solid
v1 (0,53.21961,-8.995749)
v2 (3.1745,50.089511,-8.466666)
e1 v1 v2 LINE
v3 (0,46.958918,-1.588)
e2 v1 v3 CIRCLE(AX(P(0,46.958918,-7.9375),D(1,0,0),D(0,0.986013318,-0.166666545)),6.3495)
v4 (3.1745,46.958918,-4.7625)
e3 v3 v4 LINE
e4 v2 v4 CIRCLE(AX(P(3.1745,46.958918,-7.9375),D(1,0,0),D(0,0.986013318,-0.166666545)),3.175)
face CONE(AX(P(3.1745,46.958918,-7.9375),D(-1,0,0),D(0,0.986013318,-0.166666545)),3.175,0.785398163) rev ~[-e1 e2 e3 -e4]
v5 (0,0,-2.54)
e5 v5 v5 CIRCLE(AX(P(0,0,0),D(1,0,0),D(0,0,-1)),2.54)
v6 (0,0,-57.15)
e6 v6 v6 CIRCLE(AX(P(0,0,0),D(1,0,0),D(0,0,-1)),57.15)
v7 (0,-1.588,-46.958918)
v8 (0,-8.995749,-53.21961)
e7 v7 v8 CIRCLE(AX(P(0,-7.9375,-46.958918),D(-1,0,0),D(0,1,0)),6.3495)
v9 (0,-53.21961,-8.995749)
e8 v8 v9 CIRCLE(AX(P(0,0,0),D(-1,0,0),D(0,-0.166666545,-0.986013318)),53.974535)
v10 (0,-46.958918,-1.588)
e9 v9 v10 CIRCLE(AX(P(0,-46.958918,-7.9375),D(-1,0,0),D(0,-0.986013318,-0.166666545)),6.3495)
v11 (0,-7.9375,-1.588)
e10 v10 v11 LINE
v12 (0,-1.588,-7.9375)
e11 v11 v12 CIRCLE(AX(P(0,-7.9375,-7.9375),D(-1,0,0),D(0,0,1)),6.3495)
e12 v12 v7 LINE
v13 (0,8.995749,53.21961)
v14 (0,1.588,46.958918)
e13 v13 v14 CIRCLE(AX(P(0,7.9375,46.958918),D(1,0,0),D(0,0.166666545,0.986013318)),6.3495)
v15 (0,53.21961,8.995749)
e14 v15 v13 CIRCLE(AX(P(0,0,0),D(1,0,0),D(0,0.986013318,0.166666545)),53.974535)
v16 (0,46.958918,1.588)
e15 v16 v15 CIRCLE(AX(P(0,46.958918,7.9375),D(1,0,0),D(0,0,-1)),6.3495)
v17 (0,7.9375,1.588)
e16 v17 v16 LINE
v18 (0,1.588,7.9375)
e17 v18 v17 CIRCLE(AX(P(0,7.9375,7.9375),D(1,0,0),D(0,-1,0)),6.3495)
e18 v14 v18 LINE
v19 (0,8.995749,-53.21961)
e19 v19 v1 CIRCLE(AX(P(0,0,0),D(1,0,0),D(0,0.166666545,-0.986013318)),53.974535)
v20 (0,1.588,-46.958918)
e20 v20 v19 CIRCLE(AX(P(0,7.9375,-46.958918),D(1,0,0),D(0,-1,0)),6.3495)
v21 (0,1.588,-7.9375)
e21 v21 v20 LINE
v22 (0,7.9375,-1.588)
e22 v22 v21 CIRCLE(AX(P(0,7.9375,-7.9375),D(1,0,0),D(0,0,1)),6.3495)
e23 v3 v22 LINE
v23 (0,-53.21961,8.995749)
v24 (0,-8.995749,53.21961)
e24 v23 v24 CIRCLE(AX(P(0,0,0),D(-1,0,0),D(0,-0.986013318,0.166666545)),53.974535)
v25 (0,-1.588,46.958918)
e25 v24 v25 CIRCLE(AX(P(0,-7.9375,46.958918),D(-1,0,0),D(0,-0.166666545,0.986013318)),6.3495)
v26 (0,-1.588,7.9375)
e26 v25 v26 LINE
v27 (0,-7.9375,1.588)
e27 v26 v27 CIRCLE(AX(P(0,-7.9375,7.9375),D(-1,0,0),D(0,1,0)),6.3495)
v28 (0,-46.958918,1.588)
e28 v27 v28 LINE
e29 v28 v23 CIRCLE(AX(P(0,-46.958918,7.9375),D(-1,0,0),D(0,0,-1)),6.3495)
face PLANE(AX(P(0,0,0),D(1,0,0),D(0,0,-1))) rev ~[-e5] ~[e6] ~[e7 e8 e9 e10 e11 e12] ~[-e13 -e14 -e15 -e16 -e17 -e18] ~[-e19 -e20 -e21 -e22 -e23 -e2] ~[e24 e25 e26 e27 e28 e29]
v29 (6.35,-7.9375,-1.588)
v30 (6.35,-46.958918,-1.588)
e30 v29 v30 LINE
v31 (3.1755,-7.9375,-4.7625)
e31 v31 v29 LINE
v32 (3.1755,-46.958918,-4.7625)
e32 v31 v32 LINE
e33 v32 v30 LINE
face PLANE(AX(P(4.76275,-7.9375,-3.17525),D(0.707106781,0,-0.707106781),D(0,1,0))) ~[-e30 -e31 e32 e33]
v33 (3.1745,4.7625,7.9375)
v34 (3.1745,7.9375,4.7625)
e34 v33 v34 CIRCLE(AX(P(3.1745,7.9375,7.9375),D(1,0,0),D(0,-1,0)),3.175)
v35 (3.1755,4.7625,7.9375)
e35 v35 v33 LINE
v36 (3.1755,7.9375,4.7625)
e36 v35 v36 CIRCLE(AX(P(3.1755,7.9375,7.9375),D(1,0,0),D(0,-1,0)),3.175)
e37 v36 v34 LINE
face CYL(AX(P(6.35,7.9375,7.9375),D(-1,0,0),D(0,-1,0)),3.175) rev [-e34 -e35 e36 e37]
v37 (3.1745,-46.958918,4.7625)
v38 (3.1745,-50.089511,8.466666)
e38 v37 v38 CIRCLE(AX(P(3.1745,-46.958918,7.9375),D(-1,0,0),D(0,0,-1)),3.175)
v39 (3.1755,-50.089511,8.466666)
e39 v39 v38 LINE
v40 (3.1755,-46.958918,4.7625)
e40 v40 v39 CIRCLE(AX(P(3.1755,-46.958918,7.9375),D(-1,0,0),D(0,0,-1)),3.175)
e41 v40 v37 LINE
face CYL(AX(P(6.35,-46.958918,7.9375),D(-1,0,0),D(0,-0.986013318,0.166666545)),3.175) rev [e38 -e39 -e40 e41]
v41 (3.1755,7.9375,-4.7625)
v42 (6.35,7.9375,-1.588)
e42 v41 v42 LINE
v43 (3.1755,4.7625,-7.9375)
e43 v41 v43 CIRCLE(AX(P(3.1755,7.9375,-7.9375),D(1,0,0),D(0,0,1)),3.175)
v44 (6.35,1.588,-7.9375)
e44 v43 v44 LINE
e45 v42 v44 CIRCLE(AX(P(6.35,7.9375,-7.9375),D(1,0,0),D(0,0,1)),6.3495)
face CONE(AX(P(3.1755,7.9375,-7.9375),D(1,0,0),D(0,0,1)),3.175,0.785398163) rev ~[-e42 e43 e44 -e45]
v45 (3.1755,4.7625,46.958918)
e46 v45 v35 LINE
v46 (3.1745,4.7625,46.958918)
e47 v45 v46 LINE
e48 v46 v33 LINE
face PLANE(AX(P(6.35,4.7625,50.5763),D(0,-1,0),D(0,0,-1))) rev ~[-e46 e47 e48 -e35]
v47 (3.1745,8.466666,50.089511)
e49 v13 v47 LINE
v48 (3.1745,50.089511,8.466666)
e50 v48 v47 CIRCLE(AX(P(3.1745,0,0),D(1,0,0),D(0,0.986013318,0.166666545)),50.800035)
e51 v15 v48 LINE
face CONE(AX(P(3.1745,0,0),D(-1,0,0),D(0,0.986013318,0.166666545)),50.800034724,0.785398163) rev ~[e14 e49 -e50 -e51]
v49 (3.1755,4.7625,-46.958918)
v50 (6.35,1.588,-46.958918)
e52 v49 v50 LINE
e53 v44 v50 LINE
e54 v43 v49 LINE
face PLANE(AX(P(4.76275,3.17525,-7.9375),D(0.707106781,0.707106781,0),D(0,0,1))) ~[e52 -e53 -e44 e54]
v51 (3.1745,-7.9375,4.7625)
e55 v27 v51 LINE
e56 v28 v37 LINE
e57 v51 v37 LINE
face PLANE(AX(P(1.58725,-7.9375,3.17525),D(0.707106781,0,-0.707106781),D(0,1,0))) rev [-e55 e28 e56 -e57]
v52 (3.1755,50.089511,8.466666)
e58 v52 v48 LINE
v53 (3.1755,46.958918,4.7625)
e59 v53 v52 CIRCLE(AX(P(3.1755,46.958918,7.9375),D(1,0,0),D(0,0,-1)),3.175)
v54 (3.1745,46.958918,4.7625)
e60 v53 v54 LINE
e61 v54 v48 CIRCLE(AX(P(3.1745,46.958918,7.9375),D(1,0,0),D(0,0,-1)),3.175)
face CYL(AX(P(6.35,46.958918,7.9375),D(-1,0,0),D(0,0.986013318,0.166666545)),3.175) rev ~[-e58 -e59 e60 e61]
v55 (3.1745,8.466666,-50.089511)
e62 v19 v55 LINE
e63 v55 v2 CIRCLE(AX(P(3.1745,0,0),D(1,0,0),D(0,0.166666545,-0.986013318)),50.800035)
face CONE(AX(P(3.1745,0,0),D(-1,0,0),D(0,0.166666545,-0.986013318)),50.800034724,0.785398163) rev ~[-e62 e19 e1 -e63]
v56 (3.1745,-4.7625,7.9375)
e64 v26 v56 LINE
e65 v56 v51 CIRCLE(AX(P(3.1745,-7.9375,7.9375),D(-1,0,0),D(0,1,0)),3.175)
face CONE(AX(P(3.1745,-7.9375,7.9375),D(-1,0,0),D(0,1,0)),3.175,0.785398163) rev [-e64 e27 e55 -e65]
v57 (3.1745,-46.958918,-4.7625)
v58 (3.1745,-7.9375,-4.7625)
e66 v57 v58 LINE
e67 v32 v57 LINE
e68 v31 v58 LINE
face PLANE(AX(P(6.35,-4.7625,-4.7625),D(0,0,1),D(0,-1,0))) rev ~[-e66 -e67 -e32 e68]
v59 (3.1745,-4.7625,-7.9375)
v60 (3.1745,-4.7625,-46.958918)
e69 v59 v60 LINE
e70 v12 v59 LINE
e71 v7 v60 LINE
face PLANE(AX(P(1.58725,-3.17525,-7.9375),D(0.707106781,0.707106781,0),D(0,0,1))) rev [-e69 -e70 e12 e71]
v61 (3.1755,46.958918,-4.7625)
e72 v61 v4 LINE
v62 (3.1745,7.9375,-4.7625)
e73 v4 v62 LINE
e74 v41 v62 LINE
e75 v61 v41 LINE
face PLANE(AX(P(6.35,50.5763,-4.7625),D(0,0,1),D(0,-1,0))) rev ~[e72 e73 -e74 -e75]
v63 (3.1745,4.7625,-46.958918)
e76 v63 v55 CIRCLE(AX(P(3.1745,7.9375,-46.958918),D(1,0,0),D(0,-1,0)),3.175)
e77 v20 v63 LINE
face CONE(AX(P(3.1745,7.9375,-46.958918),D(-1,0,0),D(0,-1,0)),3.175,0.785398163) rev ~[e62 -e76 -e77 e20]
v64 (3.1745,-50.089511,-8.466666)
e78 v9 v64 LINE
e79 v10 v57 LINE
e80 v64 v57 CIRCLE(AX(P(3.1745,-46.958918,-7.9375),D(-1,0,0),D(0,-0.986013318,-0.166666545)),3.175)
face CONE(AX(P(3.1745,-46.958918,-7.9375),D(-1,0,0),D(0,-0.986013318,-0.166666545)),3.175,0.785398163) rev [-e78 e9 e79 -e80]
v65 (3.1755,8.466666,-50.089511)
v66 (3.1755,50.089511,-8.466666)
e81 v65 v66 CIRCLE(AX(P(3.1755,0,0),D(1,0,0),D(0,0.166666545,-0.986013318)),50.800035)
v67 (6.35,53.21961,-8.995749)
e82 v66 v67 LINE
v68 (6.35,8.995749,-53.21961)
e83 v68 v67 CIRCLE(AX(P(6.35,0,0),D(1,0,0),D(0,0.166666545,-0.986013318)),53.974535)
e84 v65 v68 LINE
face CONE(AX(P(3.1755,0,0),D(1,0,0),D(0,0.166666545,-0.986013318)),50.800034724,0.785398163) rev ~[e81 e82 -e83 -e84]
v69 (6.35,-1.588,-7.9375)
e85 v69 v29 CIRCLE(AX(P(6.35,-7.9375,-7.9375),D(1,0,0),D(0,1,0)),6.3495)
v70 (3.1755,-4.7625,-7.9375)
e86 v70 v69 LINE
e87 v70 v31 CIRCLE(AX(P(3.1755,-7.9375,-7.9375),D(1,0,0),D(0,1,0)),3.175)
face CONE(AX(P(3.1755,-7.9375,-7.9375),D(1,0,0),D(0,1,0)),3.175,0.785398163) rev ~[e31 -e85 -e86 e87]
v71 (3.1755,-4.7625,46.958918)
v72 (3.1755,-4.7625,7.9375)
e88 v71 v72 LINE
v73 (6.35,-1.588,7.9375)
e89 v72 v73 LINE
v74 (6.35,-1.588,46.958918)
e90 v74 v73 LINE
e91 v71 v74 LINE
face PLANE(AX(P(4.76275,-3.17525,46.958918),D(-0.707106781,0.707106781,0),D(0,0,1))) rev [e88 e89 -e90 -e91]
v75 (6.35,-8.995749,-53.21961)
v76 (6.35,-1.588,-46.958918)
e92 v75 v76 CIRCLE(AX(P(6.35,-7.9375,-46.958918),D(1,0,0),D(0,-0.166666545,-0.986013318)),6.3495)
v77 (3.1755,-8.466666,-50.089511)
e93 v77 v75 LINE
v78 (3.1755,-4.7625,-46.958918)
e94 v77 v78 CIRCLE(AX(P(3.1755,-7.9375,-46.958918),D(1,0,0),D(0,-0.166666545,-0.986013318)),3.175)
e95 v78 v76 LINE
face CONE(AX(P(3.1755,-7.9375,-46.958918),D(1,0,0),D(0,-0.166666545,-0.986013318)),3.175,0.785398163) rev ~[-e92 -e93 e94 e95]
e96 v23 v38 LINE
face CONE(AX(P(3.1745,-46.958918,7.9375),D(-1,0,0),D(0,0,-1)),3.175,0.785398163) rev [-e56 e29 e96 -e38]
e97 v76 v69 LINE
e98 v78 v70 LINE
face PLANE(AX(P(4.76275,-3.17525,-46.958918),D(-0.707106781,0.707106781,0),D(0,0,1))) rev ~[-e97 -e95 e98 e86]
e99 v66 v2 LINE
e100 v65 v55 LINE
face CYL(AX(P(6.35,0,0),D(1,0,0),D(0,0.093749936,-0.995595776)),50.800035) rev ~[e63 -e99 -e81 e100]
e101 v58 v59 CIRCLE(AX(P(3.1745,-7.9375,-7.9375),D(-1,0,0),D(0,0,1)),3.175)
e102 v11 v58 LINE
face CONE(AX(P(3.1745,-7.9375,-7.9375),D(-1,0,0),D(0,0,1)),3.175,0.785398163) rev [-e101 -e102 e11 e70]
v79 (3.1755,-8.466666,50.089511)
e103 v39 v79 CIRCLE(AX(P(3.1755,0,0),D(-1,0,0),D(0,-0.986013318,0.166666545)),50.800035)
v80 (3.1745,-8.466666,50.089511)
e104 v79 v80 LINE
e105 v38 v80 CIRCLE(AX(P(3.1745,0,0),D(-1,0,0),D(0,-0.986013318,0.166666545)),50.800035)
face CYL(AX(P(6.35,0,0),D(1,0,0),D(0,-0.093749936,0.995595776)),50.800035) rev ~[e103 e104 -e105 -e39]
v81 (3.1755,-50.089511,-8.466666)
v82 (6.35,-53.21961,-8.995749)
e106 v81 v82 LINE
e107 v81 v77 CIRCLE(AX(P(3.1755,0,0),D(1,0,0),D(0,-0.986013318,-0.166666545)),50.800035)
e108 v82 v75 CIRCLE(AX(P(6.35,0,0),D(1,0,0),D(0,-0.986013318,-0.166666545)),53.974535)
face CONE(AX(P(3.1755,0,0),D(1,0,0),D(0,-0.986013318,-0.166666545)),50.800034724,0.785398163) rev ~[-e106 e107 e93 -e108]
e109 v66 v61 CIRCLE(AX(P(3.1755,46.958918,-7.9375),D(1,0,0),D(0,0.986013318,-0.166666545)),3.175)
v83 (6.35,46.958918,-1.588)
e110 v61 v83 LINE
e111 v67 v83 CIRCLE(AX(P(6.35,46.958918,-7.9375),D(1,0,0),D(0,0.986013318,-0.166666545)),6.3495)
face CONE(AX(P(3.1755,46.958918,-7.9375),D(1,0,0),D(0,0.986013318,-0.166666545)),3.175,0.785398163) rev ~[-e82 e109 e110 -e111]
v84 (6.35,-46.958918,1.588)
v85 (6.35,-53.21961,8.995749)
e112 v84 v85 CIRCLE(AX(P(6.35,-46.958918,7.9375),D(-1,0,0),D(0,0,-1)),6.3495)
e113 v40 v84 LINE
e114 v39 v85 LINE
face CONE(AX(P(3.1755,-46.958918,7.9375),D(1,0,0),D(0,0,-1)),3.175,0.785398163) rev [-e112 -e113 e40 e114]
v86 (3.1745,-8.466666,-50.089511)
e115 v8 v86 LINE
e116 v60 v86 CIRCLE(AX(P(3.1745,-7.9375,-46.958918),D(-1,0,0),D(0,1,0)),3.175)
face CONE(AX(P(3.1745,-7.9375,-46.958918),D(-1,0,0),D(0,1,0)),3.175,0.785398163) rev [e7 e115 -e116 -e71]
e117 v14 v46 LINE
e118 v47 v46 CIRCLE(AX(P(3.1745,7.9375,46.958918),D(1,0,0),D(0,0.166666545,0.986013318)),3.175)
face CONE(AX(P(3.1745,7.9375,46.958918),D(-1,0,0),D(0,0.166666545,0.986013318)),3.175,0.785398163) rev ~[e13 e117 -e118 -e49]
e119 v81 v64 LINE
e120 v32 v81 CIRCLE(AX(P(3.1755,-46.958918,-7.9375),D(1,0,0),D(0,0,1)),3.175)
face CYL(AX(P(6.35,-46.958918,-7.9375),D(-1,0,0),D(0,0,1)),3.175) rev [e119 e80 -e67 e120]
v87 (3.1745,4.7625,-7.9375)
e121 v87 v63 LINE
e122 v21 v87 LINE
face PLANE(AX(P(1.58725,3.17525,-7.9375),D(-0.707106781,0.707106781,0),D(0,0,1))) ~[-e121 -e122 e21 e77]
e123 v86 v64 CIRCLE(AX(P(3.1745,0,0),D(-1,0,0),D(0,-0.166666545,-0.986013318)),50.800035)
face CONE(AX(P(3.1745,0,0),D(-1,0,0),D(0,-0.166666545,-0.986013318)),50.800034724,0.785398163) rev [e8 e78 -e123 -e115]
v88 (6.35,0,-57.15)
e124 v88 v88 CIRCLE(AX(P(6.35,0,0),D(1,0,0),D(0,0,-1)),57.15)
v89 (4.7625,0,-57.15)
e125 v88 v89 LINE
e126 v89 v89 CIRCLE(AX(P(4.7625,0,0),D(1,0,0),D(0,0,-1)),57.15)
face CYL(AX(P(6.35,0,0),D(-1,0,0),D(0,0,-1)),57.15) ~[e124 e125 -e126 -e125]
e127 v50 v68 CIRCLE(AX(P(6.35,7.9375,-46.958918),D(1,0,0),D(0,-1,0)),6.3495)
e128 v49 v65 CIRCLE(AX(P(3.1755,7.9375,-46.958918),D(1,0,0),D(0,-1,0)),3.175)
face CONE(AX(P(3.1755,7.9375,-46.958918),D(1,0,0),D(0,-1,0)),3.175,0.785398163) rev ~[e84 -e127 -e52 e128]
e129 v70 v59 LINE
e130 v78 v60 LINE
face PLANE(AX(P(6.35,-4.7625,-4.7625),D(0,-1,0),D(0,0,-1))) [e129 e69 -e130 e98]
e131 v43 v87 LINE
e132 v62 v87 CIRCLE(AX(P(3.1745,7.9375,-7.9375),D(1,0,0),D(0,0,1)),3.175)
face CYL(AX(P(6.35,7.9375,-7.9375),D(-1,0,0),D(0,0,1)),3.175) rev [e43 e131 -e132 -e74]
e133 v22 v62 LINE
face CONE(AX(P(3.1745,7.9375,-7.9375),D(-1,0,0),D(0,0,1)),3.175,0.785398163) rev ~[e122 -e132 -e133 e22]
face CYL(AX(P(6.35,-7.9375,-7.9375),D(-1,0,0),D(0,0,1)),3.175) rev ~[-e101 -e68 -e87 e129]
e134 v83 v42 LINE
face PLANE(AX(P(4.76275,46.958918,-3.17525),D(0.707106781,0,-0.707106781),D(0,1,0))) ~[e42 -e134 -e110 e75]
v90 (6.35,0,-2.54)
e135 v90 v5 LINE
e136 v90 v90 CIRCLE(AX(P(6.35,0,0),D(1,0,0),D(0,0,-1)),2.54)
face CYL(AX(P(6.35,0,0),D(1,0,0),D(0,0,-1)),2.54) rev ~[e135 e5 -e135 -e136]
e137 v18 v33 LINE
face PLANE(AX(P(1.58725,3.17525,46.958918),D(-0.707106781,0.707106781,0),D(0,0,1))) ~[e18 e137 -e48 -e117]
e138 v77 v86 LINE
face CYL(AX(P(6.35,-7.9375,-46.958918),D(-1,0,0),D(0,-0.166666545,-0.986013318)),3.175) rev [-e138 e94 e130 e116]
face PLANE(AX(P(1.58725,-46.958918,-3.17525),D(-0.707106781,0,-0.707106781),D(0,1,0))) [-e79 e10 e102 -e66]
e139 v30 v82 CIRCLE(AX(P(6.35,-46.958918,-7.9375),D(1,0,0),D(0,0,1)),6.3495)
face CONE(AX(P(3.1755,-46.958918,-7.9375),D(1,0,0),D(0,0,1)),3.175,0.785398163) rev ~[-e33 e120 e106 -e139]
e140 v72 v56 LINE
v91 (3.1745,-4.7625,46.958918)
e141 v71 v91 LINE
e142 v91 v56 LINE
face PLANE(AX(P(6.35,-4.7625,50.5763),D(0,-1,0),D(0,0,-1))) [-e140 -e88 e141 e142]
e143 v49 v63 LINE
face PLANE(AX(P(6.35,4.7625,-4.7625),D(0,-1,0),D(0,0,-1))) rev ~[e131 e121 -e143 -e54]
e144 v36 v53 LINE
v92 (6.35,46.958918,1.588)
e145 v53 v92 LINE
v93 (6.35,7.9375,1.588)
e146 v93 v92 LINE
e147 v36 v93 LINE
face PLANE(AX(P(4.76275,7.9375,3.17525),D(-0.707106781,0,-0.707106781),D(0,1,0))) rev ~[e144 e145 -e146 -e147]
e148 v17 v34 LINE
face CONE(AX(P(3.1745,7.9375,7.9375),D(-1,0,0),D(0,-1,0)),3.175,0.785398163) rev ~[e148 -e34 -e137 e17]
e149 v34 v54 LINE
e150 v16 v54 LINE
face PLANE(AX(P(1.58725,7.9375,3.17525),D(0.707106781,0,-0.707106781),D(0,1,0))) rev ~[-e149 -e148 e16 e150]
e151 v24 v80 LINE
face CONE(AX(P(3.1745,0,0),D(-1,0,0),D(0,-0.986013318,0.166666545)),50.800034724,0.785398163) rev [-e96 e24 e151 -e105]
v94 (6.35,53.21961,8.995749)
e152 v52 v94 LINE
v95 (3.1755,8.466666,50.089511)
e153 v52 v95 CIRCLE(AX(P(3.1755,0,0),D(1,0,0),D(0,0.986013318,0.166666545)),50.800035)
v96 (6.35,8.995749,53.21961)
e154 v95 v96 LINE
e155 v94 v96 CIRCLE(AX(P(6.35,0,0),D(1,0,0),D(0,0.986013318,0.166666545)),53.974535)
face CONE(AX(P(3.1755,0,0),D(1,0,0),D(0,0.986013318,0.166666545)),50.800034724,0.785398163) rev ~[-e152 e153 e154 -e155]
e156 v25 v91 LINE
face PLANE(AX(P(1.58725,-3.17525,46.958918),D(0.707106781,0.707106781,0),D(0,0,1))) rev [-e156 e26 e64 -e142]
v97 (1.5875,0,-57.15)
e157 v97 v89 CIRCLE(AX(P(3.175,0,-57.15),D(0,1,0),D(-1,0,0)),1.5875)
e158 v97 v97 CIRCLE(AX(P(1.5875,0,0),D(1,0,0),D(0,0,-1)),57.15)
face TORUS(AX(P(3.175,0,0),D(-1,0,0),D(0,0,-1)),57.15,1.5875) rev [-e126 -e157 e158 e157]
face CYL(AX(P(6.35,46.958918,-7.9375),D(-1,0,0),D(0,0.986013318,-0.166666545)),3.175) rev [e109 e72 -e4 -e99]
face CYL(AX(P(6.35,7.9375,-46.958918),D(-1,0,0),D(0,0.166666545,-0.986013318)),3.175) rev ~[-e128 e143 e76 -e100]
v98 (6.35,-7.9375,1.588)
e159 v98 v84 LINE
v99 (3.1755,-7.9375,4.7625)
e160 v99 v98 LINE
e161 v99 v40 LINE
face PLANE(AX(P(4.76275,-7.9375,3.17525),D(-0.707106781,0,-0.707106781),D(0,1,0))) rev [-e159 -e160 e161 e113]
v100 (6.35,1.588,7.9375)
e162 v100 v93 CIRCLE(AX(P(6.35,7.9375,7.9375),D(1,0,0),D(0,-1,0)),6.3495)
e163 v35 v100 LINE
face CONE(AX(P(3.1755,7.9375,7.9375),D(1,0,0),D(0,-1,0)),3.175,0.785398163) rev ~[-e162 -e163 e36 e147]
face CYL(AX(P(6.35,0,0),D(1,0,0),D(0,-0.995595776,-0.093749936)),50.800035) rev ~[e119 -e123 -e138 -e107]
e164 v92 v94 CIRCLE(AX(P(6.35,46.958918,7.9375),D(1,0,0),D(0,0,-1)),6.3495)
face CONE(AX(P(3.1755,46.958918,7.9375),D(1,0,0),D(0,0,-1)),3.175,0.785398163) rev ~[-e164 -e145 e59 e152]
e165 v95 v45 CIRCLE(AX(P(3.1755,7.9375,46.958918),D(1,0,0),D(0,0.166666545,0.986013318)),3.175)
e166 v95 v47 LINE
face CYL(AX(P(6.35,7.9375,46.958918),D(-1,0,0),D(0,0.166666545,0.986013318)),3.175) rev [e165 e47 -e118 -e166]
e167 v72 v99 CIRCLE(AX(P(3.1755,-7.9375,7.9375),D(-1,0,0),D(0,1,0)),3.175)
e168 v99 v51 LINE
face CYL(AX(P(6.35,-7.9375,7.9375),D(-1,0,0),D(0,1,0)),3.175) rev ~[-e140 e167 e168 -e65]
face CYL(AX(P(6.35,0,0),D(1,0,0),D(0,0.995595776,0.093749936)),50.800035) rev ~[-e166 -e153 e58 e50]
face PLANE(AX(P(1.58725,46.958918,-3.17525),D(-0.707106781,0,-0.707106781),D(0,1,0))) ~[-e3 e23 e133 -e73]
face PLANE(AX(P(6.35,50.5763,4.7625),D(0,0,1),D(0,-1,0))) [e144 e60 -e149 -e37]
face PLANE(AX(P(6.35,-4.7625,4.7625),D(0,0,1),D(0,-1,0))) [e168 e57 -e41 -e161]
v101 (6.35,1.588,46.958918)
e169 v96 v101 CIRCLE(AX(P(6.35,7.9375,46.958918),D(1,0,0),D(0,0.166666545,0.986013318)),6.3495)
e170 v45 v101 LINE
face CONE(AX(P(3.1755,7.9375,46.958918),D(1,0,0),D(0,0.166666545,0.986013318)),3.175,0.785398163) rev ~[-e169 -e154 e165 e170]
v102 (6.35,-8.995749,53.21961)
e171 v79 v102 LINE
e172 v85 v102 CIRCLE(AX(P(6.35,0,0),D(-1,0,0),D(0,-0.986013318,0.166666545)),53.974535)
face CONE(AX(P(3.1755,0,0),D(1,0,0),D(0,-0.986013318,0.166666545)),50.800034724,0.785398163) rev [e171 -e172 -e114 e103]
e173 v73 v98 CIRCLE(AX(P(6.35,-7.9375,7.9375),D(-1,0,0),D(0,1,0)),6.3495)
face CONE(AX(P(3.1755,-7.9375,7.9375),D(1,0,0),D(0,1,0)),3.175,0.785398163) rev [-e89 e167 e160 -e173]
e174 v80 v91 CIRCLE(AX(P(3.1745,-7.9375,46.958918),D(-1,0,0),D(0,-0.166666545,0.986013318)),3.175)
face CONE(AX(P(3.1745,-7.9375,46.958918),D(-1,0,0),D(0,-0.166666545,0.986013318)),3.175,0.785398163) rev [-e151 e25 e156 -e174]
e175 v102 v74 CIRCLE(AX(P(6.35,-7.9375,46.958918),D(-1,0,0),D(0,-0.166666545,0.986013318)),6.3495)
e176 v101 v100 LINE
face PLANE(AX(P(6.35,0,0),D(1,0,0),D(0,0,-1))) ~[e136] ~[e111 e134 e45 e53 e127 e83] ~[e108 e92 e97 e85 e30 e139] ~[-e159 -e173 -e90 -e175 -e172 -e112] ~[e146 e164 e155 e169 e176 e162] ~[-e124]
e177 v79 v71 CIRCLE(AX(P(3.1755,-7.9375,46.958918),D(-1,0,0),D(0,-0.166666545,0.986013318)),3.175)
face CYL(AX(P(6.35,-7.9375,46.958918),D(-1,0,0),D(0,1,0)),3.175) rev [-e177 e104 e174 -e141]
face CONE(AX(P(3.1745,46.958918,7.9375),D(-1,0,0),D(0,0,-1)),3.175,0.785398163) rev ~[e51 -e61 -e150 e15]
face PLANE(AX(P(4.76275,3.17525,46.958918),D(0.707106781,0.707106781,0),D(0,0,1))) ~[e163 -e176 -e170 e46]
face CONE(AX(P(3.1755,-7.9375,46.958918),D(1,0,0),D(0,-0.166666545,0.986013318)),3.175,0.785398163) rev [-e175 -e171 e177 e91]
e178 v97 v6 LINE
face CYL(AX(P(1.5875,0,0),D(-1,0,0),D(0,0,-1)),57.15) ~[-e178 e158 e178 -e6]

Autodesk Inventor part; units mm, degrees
ref_plane "YZ Plane" through (0, 0, 0) normal (1, 0, 0) x (0, 1, 0)
ref_plane "XZ Plane" through (0, 0, 0) normal (0, 1, 0) x (-1, 0, 0)
ref_plane "XY Plane" through (0, 0, 0) normal (0, 0, 1) x (1, 0, 0)
sketch "Sketch1" plane through (0, 0, 0) normal (0, 1, 0) x (-1, 0, 0)
  line L0 (0, 0) -> (-6.35, 0)
  line L1 (-6.35, 0) -> (-6.35, -57.15)
  line L2 (0, -57.15) -> (0, 0)
  arc A0 (-1.5875, -57.15) -> (-4.7625, -57.15) centre (-3.175, -57.15) ccw
  line L3 (-6.35, -57.15) -> (-4.7625, -57.15)
  line L4 (-1.5875, -57.15) -> (0, -57.15)
  dimension "d0" = 6.35
  dimension "d1" = 57.15
  dimension "d2" = 3.175
revolve "Revolution1" add sketch "Sketch1" angle 360 about axis through (0, 0, 0) along (1, 0, 0)
sketch "Sketch2" plane through (6.35, 0, 0) normal (1, 0, 0) x (0, 0, -1)
  line L0 (-4.7625, 50.5763) -> (-4.7625, 4.7625)
  line L1 (-4.7625, -4.7625) -> (-4.7625, -50.5763)
  line L2 (4.7625, 50.5763) -> (4.7625, 4.7625)
  line L3 (4.7625, -4.7625) -> (4.7625, -50.5763)
  arc A0 (50.5763, 4.7625) -> (4.7625, 50.5763) centre (0, 0) ccw
  arc A1 (-4.7625, 50.5763) -> (-50.5763, 4.7625) centre (0, 0) ccw
  line L4 (-50.5763, 4.7625) -> (-4.7625, 4.7625)
  line L5 (4.7625, 4.7625) -> (50.5763, 4.7625)
  line L6 (-50.5763, -4.7625) -> (-4.7625, -4.7625)
  line L7 (4.7625, -4.7625) -> (50.5763, -4.7625)
  arc A2 (-50.5763, -4.7625) -> (-4.7625, -50.5763) centre (0, 0) ccw
  arc A3 (4.7625, -50.5763) -> (50.5763, -4.7625) centre (0, 0) ccw
extrude "Extrusion1" cut sketch "Sketch2" against normal blind 25.4
fillet "Fillet1" radius 3.175 12 edges at (3.175, 4.7625, 4.7625) (3.175, 4.7625, -4.7625) (3.175, -4.7625, -4.7625) (3.175, -4.7625, 4.7625) (3.175, -4.7625, -50.5763) (3.175, -50.5763, -4.7625) (3.175, -50.5763, 4.7625) (3.175, -4.7625, 50.5763) (3.175, 4.7625, 50.5763) (3.175, 50.5763, 4.7625) (3.175, 50.5763, -4.7625) (3.175, 4.7625, -50.5763)
sketch "Sketch3" plane through (6.35, 0, 0) normal (1, 0, 0) x (0, 0, -1)
  circle A0 centre (0, 0) radius 2.54
  dimension "d12" = 5.08
extrude "Extrusion2" cut sketch "Sketch3" against normal blind 25.4
chamfer "Chamfer1" distance 3.175 angle 45 48 edges at (6.35, -27.4482, -4.7625) (6.35, -5.6924, -5.6924) (6.35, -4.7625, -27.4482) (6.35, -5.888, -49.3838) (6.35, -35.921, -35.921) (6.35, -49.3838, -5.888) (6.35, -27.4482, 4.7625) (6.35, -49.3838, 5.888) (6.35, -35.921, 35.921) (6.35, -5.888, 49.3838) (6.35, -4.7625, 27.4482) (6.35, -5.6924, 5.6924) (6.35, 5.6924, 5.6924) (6.35, 27.4482, 4.7625) (6.35, 49.3838, 5.888) (6.35, 35.921, 35.921) (6.35, 5.888, 49.3838) (6.35, 4.7625, 27.4482) (6.35, 5.6924, -5.6924) (6.35, 4.7625, -27.4482) (6.35, 5.888, -49.3838) (6.35, 35.921, -35.921) (6.35, 49.3838, -5.888) (6.35, 27.4482, -4.7625) (0, 5.6924, 5.6924) (0, 4.7625, 27.4482) (0, 5.888, 49.3838) (0, 35.921, 35.921) (0, 49.3838, 5.888) (0, 27.4482, 4.7625) (0, -5.6924, 5.6924) (0, -27.4482, 4.7625) (0, -49.3838, 5.888) (0, -35.921, 35.921) (0, -5.888, 49.3838) (0, -4.7625, 27.4482) (0, -5.6924, -5.6924) (0, -4.7625, -27.4482) (0, -5.888, -49.3838) (0, -35.921, -35.921) (0, -49.3838, -5.888) (0, -27.4482, -4.7625) (0, 5.6924, -5.6924) (0, 27.4482, -4.7625) (0, 49.3838, -5.888) (0, 35.921, -35.921) (0, 5.888, -49.3838) (0, 4.7625, -27.4482)
properties part number "Wheel"
